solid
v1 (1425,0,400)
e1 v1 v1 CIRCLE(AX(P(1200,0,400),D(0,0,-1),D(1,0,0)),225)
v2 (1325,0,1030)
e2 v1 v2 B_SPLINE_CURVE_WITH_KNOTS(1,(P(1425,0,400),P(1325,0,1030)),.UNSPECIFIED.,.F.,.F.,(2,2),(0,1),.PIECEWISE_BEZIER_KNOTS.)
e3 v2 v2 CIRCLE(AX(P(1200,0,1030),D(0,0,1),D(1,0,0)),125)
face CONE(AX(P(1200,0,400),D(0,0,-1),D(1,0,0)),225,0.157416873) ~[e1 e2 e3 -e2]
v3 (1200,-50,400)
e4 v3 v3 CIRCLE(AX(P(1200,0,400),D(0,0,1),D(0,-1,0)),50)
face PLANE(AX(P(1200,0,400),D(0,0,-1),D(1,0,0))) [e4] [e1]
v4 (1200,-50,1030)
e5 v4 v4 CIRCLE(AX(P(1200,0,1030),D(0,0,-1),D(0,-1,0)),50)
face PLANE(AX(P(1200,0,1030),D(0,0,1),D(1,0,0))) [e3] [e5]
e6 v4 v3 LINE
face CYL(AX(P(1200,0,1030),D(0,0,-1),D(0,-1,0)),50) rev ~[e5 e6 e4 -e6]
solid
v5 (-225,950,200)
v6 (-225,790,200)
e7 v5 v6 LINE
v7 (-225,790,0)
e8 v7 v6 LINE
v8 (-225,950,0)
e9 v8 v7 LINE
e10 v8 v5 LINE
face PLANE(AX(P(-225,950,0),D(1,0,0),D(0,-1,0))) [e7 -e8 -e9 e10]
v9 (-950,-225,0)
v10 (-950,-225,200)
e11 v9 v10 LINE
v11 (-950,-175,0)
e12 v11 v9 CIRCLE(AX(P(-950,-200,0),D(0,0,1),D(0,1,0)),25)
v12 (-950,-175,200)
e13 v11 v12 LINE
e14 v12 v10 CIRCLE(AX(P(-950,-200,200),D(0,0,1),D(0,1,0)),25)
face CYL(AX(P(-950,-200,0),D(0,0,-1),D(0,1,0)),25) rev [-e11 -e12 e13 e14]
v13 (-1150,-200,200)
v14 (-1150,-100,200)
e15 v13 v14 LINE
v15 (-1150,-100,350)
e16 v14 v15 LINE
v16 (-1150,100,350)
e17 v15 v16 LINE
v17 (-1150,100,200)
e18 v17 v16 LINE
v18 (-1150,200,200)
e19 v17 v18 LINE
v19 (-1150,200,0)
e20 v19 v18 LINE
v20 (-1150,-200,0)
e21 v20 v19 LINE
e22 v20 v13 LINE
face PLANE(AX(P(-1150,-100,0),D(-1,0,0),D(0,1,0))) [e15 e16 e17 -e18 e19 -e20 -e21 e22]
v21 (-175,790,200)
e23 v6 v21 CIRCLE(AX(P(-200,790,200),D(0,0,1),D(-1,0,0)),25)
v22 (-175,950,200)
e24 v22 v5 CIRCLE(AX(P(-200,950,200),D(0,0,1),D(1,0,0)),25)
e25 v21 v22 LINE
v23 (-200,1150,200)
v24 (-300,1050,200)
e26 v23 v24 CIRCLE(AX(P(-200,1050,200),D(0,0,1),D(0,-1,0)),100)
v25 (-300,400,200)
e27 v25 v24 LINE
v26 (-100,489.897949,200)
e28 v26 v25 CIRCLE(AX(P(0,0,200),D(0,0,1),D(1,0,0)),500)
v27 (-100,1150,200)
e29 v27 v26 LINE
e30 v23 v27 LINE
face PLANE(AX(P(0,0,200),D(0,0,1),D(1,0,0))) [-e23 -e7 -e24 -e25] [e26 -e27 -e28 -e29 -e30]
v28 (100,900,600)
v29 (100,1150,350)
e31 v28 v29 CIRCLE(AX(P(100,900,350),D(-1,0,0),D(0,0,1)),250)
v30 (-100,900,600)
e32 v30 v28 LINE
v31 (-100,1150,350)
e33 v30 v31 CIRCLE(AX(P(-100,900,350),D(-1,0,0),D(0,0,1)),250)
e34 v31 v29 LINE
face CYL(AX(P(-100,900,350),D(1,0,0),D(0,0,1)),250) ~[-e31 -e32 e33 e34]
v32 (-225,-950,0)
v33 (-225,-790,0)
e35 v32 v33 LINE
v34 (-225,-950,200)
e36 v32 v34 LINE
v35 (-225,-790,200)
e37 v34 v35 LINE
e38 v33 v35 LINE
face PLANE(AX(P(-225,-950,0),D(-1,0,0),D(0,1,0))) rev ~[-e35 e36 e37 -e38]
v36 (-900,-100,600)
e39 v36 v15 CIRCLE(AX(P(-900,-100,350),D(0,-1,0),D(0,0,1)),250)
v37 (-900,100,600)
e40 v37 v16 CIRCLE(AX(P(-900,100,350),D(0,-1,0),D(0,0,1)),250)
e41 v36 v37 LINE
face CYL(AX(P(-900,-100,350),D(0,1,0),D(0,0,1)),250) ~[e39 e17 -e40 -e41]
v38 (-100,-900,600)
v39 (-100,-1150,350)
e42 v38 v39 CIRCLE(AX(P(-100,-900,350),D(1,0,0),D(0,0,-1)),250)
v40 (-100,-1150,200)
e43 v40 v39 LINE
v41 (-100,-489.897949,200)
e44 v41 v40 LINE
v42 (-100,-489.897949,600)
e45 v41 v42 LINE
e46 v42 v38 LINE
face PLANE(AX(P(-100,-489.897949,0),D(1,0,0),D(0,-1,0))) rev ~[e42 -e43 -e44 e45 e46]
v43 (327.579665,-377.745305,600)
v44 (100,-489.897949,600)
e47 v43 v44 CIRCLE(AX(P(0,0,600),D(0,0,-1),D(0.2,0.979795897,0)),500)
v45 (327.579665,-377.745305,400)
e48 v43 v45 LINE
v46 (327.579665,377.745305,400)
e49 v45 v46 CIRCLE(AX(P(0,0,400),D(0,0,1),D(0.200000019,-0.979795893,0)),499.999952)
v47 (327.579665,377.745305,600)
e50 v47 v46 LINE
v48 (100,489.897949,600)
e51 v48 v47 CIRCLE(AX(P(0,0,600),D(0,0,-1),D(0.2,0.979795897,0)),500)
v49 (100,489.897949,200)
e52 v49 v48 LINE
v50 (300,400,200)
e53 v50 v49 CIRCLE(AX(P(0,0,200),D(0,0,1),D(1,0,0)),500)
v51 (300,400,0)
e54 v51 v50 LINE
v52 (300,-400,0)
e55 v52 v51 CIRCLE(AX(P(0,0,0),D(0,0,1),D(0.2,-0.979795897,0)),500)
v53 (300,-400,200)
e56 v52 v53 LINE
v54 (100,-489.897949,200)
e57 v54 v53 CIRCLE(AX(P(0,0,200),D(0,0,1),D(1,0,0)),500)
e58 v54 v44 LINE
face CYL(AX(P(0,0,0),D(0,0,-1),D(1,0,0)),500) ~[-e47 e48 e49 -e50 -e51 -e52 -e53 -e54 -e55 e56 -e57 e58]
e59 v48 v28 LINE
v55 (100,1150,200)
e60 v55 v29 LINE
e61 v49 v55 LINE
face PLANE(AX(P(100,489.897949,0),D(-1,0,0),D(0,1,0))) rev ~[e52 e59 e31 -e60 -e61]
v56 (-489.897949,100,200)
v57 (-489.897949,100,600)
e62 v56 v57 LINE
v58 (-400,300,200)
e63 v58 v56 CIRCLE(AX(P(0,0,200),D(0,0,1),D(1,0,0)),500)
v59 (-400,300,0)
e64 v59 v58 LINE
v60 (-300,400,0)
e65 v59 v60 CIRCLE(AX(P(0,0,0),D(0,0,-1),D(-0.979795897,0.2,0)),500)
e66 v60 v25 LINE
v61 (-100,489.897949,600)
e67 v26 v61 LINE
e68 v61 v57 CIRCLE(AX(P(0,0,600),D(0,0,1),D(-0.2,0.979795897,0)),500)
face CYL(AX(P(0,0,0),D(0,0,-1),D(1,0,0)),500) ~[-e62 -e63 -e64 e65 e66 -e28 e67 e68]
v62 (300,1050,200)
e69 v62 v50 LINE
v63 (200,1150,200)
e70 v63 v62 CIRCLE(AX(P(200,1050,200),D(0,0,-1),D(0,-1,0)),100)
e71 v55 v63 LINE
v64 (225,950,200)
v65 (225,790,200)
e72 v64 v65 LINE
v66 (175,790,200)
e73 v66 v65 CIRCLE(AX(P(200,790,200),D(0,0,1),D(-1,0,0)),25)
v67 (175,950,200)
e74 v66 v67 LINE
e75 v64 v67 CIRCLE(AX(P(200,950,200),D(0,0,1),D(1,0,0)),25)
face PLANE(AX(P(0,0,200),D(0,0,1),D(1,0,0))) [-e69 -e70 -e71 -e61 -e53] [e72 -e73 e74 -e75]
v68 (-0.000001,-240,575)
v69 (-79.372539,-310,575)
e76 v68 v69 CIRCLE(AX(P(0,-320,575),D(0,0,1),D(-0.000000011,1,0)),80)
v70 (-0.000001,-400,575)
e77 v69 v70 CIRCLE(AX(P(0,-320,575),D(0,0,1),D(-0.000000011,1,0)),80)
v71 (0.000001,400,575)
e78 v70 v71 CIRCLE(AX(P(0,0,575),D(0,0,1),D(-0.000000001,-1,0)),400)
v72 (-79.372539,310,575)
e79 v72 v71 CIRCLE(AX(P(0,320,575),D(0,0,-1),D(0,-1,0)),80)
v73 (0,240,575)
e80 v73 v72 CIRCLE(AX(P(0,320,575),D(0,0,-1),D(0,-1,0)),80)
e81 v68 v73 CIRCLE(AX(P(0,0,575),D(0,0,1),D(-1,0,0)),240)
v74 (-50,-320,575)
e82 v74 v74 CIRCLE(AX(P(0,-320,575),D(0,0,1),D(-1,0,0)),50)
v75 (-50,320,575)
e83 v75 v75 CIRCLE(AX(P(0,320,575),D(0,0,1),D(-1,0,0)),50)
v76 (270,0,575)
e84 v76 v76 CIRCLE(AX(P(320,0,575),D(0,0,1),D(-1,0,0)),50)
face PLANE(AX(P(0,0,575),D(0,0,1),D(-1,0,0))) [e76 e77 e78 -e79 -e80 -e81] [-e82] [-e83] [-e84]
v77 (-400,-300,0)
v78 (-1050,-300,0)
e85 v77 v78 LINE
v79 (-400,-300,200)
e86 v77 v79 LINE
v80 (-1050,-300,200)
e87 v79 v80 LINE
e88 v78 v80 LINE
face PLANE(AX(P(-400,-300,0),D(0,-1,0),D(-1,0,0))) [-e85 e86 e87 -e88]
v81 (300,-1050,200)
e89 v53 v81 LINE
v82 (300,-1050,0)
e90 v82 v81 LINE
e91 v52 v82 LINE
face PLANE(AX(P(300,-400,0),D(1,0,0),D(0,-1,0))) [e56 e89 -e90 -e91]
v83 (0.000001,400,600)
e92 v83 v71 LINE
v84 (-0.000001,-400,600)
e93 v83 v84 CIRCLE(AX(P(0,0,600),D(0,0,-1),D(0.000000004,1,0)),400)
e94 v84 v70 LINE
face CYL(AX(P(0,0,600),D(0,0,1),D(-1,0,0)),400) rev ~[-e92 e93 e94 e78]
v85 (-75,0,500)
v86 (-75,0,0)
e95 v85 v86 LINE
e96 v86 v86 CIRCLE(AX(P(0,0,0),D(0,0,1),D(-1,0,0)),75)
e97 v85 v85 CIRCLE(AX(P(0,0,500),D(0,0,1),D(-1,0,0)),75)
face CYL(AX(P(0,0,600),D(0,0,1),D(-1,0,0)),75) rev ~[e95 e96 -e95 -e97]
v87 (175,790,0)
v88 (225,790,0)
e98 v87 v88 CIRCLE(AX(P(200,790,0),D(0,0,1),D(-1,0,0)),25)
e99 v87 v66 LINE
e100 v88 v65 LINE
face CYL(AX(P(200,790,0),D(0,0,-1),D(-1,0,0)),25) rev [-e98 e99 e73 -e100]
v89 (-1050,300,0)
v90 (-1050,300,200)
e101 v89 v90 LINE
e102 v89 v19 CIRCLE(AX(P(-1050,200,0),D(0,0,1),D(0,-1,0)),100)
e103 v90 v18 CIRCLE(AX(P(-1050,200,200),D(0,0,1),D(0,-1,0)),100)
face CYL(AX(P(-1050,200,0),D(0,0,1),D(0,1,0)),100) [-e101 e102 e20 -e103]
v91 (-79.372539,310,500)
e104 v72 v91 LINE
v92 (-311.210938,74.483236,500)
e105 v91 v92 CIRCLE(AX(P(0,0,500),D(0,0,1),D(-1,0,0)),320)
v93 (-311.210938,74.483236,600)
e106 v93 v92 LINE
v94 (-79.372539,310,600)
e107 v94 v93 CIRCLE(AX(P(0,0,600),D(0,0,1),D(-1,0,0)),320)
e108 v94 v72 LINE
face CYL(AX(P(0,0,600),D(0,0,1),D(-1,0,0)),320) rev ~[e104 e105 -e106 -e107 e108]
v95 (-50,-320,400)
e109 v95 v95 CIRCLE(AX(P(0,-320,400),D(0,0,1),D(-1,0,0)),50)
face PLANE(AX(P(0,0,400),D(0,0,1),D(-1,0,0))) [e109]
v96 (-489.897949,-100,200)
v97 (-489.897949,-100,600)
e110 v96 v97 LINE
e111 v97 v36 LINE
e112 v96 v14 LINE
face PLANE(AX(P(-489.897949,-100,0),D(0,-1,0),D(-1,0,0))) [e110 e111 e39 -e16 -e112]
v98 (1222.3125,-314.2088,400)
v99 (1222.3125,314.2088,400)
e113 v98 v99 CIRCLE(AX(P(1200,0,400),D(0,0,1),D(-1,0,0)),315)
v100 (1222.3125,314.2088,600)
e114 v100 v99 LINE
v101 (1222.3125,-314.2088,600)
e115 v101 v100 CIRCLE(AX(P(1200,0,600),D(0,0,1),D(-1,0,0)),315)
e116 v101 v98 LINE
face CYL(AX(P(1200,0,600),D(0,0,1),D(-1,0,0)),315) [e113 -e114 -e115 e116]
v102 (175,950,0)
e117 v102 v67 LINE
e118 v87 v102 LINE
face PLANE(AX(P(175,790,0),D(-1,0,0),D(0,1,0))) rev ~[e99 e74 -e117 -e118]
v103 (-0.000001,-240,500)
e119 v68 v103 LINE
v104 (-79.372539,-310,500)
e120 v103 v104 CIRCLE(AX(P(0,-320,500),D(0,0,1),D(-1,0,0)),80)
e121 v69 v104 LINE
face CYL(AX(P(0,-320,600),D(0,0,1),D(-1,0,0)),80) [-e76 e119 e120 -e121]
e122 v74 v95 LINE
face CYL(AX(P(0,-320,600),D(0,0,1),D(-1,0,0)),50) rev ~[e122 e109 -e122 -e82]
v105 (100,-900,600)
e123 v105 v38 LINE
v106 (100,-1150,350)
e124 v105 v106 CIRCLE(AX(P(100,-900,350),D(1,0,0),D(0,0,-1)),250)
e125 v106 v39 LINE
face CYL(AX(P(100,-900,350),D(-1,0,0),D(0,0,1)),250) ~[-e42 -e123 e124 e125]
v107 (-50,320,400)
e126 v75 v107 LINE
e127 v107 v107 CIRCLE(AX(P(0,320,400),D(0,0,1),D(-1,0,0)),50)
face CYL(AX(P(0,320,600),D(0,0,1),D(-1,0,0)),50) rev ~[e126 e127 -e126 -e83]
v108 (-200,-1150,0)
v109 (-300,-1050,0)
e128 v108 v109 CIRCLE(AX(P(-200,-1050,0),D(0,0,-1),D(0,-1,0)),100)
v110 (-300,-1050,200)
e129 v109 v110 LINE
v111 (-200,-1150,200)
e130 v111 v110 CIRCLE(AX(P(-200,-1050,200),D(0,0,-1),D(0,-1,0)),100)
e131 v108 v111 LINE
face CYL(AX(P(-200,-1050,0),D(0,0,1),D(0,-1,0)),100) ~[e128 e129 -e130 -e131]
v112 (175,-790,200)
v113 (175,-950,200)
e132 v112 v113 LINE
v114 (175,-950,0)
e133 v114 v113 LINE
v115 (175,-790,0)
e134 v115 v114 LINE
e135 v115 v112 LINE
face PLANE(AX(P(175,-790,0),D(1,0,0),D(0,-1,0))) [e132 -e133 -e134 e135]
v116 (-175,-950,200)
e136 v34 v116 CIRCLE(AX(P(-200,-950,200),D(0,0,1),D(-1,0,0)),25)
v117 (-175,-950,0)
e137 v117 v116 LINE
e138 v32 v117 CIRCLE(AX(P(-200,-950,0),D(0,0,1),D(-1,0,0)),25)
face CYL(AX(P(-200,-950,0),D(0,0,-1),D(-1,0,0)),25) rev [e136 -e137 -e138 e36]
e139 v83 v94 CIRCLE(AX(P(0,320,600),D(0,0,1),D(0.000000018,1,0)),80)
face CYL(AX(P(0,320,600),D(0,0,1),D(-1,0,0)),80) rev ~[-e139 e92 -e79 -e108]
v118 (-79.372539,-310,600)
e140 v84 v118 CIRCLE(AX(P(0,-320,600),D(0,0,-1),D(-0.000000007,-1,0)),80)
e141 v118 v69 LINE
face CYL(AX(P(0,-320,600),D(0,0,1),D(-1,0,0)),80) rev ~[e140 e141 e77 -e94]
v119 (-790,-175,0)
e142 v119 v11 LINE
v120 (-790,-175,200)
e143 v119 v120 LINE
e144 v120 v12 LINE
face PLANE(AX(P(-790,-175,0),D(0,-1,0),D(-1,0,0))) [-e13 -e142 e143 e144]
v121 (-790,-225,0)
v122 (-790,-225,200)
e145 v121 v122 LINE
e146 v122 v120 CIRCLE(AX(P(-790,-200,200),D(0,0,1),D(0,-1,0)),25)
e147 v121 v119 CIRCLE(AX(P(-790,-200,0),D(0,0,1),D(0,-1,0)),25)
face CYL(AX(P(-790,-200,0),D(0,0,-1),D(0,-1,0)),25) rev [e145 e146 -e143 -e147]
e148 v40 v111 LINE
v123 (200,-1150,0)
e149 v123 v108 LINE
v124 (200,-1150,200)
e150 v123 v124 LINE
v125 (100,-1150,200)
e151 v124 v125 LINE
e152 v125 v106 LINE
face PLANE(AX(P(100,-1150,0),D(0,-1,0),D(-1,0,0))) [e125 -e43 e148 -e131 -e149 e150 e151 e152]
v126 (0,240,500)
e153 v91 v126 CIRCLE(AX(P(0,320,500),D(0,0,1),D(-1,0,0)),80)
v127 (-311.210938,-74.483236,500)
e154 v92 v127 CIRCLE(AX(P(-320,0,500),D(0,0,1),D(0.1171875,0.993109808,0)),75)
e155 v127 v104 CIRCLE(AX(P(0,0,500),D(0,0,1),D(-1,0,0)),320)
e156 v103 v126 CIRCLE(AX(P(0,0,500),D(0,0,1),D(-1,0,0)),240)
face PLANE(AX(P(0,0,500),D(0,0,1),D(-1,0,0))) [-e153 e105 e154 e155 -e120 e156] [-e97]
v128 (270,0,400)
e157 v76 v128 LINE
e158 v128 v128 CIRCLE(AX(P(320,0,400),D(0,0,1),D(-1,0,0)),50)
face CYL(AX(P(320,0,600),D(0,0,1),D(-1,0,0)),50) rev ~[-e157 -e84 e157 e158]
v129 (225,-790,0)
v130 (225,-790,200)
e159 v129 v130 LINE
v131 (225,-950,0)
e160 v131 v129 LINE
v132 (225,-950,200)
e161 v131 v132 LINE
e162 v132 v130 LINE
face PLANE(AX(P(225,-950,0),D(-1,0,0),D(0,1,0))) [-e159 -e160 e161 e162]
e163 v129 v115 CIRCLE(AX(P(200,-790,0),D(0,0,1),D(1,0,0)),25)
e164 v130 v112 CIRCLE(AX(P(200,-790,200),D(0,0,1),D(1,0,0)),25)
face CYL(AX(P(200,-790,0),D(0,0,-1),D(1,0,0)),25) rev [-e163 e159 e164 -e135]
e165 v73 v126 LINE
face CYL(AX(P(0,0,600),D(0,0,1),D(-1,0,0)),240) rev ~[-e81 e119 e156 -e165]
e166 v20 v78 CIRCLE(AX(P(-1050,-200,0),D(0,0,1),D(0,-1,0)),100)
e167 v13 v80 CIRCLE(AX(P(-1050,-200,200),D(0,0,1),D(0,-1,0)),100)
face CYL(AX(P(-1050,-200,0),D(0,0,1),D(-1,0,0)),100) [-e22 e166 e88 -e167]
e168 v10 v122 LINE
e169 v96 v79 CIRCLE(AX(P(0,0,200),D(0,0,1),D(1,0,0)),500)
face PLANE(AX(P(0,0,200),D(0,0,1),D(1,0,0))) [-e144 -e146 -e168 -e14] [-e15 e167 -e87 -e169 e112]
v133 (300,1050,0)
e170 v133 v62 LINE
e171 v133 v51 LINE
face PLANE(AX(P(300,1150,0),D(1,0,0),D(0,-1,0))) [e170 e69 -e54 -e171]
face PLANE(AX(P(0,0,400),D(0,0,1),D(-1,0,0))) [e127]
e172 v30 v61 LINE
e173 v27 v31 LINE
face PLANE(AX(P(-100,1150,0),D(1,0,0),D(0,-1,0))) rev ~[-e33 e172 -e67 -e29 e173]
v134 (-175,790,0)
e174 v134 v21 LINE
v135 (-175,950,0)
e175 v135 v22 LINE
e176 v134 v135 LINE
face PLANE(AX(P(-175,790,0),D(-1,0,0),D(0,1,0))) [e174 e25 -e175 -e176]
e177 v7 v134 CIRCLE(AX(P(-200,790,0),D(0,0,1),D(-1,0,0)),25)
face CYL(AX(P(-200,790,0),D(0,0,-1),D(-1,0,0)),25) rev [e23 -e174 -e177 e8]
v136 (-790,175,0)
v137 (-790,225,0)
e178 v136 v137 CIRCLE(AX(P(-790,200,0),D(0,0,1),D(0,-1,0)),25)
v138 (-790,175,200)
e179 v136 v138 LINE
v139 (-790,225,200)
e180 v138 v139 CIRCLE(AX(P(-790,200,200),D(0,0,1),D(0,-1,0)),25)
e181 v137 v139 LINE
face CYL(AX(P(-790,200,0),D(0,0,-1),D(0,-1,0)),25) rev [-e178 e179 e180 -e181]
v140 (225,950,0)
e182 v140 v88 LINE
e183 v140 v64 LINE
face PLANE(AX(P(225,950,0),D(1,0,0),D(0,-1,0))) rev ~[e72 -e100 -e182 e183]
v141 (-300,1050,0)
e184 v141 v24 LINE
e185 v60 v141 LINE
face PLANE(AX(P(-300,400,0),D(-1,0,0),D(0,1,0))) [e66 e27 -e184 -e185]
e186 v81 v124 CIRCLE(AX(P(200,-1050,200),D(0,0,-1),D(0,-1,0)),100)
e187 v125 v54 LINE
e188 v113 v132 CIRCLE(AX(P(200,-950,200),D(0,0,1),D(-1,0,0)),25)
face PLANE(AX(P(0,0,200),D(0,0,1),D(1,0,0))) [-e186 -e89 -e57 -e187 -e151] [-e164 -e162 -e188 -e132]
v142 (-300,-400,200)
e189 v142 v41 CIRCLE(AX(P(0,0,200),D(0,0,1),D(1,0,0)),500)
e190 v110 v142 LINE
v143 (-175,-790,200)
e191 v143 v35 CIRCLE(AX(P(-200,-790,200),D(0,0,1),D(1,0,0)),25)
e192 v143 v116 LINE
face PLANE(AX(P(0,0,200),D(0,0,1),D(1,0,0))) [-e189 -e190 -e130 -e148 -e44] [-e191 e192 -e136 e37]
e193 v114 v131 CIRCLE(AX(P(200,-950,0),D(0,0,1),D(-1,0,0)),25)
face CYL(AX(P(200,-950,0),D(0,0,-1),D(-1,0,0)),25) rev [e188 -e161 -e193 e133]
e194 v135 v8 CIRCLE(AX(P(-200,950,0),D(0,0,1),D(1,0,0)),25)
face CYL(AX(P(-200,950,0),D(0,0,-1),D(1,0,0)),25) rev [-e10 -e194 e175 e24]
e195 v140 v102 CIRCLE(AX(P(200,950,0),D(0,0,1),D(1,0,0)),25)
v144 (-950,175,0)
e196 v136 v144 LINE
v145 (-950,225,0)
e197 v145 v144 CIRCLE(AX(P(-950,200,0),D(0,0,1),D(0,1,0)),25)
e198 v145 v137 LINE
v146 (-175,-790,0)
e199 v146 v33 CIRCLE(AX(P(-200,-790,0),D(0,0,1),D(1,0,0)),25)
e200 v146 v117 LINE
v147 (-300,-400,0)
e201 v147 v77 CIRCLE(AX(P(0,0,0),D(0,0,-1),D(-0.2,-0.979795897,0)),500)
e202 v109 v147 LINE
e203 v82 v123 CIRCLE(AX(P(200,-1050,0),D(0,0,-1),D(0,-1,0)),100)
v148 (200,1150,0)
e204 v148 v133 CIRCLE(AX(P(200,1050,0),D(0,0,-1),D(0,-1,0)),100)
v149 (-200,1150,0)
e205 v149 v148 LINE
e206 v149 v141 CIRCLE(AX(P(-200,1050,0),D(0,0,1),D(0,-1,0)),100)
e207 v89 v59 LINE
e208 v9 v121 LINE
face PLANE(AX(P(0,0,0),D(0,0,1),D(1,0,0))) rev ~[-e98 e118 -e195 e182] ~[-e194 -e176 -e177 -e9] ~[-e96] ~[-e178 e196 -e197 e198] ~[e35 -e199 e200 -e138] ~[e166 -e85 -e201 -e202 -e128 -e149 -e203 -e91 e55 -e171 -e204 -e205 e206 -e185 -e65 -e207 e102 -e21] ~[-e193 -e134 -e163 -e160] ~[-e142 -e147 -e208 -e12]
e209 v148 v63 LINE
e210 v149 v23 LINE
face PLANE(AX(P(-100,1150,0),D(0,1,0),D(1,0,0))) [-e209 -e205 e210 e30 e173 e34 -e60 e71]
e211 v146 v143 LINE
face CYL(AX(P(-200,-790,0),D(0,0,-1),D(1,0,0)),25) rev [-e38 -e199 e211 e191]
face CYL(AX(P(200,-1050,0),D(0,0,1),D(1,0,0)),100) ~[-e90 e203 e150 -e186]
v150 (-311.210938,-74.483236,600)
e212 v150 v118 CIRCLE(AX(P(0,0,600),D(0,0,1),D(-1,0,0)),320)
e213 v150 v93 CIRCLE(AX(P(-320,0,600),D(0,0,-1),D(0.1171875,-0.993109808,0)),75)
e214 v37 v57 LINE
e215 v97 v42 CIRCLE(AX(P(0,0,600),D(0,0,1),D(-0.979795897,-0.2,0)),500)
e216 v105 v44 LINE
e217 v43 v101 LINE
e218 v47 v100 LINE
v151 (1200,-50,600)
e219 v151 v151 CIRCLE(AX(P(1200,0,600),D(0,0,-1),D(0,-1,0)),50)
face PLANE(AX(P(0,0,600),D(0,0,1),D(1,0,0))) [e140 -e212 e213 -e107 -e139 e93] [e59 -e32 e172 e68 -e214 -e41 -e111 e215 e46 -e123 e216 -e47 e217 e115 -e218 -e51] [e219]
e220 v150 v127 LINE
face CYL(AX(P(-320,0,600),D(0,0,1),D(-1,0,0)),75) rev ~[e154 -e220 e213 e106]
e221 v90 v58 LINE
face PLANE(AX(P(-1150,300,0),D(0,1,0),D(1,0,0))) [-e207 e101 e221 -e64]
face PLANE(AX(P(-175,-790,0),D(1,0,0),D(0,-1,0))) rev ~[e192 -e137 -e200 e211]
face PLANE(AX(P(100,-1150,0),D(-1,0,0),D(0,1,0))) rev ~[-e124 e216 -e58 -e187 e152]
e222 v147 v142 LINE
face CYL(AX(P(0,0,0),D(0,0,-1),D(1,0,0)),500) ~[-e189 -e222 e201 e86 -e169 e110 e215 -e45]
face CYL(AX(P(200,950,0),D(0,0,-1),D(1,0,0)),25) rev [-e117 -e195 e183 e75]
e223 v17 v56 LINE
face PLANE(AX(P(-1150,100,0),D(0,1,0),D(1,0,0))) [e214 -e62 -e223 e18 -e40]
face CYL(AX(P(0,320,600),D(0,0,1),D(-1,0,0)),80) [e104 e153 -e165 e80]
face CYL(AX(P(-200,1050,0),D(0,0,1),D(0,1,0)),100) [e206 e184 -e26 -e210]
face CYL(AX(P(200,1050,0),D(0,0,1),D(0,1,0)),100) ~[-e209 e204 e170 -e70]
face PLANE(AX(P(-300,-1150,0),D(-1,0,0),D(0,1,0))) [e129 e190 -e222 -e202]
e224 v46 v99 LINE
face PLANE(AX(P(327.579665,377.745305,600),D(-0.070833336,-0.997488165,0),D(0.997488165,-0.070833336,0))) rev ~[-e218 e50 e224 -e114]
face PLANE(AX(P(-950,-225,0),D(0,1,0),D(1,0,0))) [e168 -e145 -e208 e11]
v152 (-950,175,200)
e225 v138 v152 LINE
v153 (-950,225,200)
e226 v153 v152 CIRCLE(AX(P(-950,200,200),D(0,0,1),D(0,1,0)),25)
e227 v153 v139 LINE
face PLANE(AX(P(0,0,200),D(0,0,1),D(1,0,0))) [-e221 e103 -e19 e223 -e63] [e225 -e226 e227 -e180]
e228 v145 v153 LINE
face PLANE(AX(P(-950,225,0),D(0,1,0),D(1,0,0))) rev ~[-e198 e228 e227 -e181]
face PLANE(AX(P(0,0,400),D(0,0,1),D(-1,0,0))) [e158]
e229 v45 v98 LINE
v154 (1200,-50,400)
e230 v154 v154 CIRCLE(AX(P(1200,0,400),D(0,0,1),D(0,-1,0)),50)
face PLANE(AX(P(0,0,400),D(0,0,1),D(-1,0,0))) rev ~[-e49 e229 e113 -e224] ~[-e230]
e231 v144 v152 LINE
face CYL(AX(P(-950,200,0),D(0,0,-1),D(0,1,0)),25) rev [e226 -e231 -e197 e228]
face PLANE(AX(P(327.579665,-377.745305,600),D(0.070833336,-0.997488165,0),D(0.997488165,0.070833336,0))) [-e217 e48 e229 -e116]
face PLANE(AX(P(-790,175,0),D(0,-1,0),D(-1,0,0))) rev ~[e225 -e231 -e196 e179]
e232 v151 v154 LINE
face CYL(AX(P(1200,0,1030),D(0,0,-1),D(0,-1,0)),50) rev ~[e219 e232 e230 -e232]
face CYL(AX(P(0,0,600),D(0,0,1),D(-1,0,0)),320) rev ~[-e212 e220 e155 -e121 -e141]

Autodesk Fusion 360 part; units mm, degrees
sketch "Sketch1" plane through (0, 0, 0) normal (0, 0, 1) x (1, 0, 0)
  circle A0 centre (0, 0) radius 500
  line L0 (-1150, 300) -> (1150, 300)
  line L1 (1150, 300) -> (1150, -300)
  line L2 (1150, -300) -> (-1150, -300)
  line L3 (-1150, -300) -> (-1150, 300)
  line L4 (-300, 1150) -> (300, 1150)
  line L5 (300, 1150) -> (300, -1150)
  line L6 (300, -1150) -> (-300, -1150)
  line L7 (-300, -1150) -> (-300, 1150)
  line L8 (1150, -100) -> (-1150, -100)
  line L9 (-1150, -100) -> (-1150, 100)
  line L10 (-1150, 100) -> (1150, 100)
  line L11 (1150, 100) -> (1150, -100)
  line L12 (-100, -1150) -> (100, -1150)
  line L13 (100, -1150) -> (100, 1150)
  line L14 (100, 1150) -> (-100, 1150)
  line L15 (-100, 1150) -> (-100, -1150)
  line L16 (-950, -225) -> (-790, -225)
  arc A1 (-790, -225) -> (-790, -175) centre (-790, -200) ccw
  line L17 (-790, -175) -> (-950, -175)
  arc A2 (-950, -175) -> (-950, -225) centre (-950, -200) ccw
  line L18 (-950, -200) -> (-790, -200) construction
  line L19 (-1150, 0) -> (-827.9114, 0) construction
  arc A3 (-950, 225) -> (-950, 175) centre (-950, 200) ccw
  line L20 (-790, 175) -> (-950, 175)
  line L21 (-950, 225) -> (-790, 225)
  arc A4 (-790, 175) -> (-790, 225) centre (-790, 200) ccw
  line L22 (225, -950) -> (225, -790)
  line L23 (175, -790) -> (175, -950)
  arc A5 (175, -950) -> (225, -950) centre (200, -950) ccw
  arc A6 (225, -790) -> (175, -790) centre (200, -790) ccw
  line L24 (-175, -790) -> (-175, -950)
  line L25 (-225, -950) -> (-225, -790)
  arc A7 (-225, -950) -> (-175, -950) centre (-200, -950) ccw
  arc A8 (-175, -790) -> (-225, -790) centre (-200, -790) ccw
  line L26 (-225, 950) -> (-225, 790)
  line L27 (-175, 790) -> (-175, 950)
  arc A9 (-175, 950) -> (-225, 950) centre (-200, 950) ccw
  arc A10 (-225, 790) -> (-175, 790) centre (-200, 790) ccw
  line L28 (175, 790) -> (175, 950)
  line L29 (225, 950) -> (225, 790)
  arc A11 (225, 950) -> (175, 950) centre (200, 950) ccw
  arc A12 (175, 790) -> (225, 790) centre (200, 790) ccw
  dimension "d2" = 2300
  dimension "d3" = 600
  dimension "d4" = 600
  dimension "d5" = 2300
  dimension "d6" = 2300
  dimension "d7" = 200
  dimension "d8" = 200
  dimension "d9" = 2300
  dimension "d10" = 50
  dimension "d11" = 100
  dimension "d13" = 360
extrude "Extrude1" add sketch "Sketch1" along normal blind 600 contours A0 L5 L8 L10 | A0 L0 L5 L10 | A0 L2 L5 L8 | A0 L0 L5 | L0 L5 L10 L13 | L5 L8 L10 L13 | A0 L2 L5 | L2 L5 L8 L13 | A0 L0 L5 L13 | L8 L10 L13 L15 | L0 L10 L13 L15 | A0 L2 L5 L13 | L2 L8 L13 L15 | A0 L0 L13 L15 | A0 L4 L13 L14 L15 | L7 L8 L10 L15 | L0 L7 L10 L15 | A0 L6 L12 L13 L15 | A0 L2 L13 L15 | L2 L7 L8 L15 | A0 L0 L7 L15 | A0 L0 L7 L10 | A0 L7 L8 L10 | A0 L2 L7 L15 | A0 L2 L7 L8 | A0 L0 L7 | A0 L3 L8 L9 L10 | A0 L2 L7 makes body 1
extrude "Extrude2" add sketch "Sketch1" along normal blind 200 contours A0 L4 L5 L13 | A0 L5 L6 L13 | A0 L4 L7 L15 | A0 L6 L7 L15 | A0 L0 L3 L10 | A0 L2 L3 L8 bodies 1
sketch "Sketch2" plane through (0, 0, 600) normal (0, 0, 1) x (-1, 0, 0)
  arc A0 (489.8979, 100) -> (100, 489.8979) centre (0, 0) ccw
  line L0 (100, 489.8979) -> (100, 1150)
  line L1 (100, 1150) -> (-100, 1150)
  line L2 (-100, 1150) -> (-100, 489.8979)
  arc A1 (-100, 489.8979) -> (-100, -489.8979) centre (0, 0) ccw
  line L3 (-100, -489.8979) -> (-100, -1150)
  line L4 (-100, -1150) -> (100, -1150)
  line L5 (100, -1150) -> (100, -489.8979)
  arc A2 (100, -489.8979) -> (489.8979, -100) centre (0, 0) ccw
  line L6 (489.8979, -100) -> (1150, -100)
  line L7 (1150, -100) -> (1150, 100)
  line L8 (1150, 100) -> (489.8979, 100)
  circle A3 centre (0, 0) radius 400
  circle A4 centre (0, 0) radius 320
  circle A5 centre (0, 0) radius 240
  circle A6 centre (0, 0) radius 75
  circle A7 centre (320, 0) radius 75
  circle A8 centre (0, 320) radius 80
  circle A9 centre (0, -320) radius 80
  circle A10 centre (-320, 0) radius 50
  circle A11 centre (0, -320) radius 50
  circle A12 centre (0, 320) radius 50
  circle A13 centre (-1200, 0) radius 315
  line L9 (-28.3333, -398.9953) -> (-1222.3125, -314.2088)
  line L10 (0, 0) -> (-739.855, 0) construction
  line L11 (-28.3333, 398.9953) -> (-1222.3125, 314.2088)
  dimension "d21" = 150
  dimension "d22" = 150
  dimension "d23" = 160
  dimension "d24" = 160
  dimension "d25" = 100
  dimension "d26" = 100
  dimension "d27" = 100
  dimension "d28" = 630
  dimension "d30" = 2350
ref_plane "WorkPlane1" through (1200, 0, 1030) normal (0, 0, 1) x (-1, 0, 0)
sketch "Sketch3" plane through (1200, 0, 1030) normal (0, 0, 1) x (1, 0, 0)
  circle A0 centre (0, 0) radius 125
  dimension "d32" = 250
extrude "Extrude3" add sketch "Sketch2" against normal blind 200 contours A1 A13 L9 L11 | A13 bodies 1
extrude "Extrude4" cut sketch "Sketch2" against normal through all contours A6 bodies 1
extrude "Extrude5" cut sketch "Sketch2" against normal blind 100 contours A4 A5 A7 A8 A9 | A5 | A4 A7 | A4 A7 bodies 1
extrude "Extrude6" cut sketch "Sketch2" against normal blind 200 contours A4 A12 | A4 A12 | A4 A10 | A4 A10 | A4 A11 | A4 A11 bodies 1
extrude "Extrude7" cut sketch "Sketch2" against normal blind 25 contours A3 A4 A8 A9 A10 | A4 A8 A12 | A4 A9 A11 | A4 A5 A8 A9 A10 | A4 A8 A12 | A4 A9 A11 bodies 1
sketch "Sketch4" plane through (0, 0, 400) normal (0, 0, -1) x (1, 0, 0)
  arc A0 (1222.3125, -314.2088) -> (1222.3125, 314.2088) centre (1200, 0) ccw
  line L0 (1222.3125, 314.2088) -> (327.5798, 377.7453)
  arc A1 (327.5798, -377.7453) -> (327.5798, 377.7453) centre (0, 0) ccw
  line L1 (327.5798, -377.7453) -> (1222.3125, -314.2088)
  circle A2 centre (1200, 0) radius 225
  dimension "d42" = 450
loft "Loft1" add profiles "Sketch4", "Sketch3" section 1 contours A2 section 2 separate body makes body 2
sketch "Sketch5" plane through (0, -1150, 0) normal (0, -1, 0) x (1, 0, 0)
  line L0 (-300, 0) -> (300, 0)
  line L1 (300, 0) -> (300, 200)
  line L2 (300, 200) -> (100, 200)
  line L3 (100, 200) -> (100, 600)
  line L4 (100, 600) -> (-100, 600)
  line L5 (-100, 600) -> (-100, 200)
  line L6 (-100, 200) -> (-300, 200)
  line L7 (-300, 200) -> (-300, 0)
hole "Hole1" at (1200, 0, 1030) direction (0, 0, -1) diameter 100 end through all bodies 1 2
hole "Hole2" at (1200, 0, 400) direction (0, 0, 1) diameter 100 end through all bodies 2 1
fillet "Fillet1" radius 250 3 edges at (-1150, 0, 600) (0, -1150, 600) (0, 1150, 600) on bodies 1
fillet "Fillet2" radius 100 6 edges at (300, -1150, 100) (-300, -1150, 100) (-1150, -300, 100) (300, 1150, 100) (-1150, 300, 100) (-300, 1150, 100) on bodies 1
